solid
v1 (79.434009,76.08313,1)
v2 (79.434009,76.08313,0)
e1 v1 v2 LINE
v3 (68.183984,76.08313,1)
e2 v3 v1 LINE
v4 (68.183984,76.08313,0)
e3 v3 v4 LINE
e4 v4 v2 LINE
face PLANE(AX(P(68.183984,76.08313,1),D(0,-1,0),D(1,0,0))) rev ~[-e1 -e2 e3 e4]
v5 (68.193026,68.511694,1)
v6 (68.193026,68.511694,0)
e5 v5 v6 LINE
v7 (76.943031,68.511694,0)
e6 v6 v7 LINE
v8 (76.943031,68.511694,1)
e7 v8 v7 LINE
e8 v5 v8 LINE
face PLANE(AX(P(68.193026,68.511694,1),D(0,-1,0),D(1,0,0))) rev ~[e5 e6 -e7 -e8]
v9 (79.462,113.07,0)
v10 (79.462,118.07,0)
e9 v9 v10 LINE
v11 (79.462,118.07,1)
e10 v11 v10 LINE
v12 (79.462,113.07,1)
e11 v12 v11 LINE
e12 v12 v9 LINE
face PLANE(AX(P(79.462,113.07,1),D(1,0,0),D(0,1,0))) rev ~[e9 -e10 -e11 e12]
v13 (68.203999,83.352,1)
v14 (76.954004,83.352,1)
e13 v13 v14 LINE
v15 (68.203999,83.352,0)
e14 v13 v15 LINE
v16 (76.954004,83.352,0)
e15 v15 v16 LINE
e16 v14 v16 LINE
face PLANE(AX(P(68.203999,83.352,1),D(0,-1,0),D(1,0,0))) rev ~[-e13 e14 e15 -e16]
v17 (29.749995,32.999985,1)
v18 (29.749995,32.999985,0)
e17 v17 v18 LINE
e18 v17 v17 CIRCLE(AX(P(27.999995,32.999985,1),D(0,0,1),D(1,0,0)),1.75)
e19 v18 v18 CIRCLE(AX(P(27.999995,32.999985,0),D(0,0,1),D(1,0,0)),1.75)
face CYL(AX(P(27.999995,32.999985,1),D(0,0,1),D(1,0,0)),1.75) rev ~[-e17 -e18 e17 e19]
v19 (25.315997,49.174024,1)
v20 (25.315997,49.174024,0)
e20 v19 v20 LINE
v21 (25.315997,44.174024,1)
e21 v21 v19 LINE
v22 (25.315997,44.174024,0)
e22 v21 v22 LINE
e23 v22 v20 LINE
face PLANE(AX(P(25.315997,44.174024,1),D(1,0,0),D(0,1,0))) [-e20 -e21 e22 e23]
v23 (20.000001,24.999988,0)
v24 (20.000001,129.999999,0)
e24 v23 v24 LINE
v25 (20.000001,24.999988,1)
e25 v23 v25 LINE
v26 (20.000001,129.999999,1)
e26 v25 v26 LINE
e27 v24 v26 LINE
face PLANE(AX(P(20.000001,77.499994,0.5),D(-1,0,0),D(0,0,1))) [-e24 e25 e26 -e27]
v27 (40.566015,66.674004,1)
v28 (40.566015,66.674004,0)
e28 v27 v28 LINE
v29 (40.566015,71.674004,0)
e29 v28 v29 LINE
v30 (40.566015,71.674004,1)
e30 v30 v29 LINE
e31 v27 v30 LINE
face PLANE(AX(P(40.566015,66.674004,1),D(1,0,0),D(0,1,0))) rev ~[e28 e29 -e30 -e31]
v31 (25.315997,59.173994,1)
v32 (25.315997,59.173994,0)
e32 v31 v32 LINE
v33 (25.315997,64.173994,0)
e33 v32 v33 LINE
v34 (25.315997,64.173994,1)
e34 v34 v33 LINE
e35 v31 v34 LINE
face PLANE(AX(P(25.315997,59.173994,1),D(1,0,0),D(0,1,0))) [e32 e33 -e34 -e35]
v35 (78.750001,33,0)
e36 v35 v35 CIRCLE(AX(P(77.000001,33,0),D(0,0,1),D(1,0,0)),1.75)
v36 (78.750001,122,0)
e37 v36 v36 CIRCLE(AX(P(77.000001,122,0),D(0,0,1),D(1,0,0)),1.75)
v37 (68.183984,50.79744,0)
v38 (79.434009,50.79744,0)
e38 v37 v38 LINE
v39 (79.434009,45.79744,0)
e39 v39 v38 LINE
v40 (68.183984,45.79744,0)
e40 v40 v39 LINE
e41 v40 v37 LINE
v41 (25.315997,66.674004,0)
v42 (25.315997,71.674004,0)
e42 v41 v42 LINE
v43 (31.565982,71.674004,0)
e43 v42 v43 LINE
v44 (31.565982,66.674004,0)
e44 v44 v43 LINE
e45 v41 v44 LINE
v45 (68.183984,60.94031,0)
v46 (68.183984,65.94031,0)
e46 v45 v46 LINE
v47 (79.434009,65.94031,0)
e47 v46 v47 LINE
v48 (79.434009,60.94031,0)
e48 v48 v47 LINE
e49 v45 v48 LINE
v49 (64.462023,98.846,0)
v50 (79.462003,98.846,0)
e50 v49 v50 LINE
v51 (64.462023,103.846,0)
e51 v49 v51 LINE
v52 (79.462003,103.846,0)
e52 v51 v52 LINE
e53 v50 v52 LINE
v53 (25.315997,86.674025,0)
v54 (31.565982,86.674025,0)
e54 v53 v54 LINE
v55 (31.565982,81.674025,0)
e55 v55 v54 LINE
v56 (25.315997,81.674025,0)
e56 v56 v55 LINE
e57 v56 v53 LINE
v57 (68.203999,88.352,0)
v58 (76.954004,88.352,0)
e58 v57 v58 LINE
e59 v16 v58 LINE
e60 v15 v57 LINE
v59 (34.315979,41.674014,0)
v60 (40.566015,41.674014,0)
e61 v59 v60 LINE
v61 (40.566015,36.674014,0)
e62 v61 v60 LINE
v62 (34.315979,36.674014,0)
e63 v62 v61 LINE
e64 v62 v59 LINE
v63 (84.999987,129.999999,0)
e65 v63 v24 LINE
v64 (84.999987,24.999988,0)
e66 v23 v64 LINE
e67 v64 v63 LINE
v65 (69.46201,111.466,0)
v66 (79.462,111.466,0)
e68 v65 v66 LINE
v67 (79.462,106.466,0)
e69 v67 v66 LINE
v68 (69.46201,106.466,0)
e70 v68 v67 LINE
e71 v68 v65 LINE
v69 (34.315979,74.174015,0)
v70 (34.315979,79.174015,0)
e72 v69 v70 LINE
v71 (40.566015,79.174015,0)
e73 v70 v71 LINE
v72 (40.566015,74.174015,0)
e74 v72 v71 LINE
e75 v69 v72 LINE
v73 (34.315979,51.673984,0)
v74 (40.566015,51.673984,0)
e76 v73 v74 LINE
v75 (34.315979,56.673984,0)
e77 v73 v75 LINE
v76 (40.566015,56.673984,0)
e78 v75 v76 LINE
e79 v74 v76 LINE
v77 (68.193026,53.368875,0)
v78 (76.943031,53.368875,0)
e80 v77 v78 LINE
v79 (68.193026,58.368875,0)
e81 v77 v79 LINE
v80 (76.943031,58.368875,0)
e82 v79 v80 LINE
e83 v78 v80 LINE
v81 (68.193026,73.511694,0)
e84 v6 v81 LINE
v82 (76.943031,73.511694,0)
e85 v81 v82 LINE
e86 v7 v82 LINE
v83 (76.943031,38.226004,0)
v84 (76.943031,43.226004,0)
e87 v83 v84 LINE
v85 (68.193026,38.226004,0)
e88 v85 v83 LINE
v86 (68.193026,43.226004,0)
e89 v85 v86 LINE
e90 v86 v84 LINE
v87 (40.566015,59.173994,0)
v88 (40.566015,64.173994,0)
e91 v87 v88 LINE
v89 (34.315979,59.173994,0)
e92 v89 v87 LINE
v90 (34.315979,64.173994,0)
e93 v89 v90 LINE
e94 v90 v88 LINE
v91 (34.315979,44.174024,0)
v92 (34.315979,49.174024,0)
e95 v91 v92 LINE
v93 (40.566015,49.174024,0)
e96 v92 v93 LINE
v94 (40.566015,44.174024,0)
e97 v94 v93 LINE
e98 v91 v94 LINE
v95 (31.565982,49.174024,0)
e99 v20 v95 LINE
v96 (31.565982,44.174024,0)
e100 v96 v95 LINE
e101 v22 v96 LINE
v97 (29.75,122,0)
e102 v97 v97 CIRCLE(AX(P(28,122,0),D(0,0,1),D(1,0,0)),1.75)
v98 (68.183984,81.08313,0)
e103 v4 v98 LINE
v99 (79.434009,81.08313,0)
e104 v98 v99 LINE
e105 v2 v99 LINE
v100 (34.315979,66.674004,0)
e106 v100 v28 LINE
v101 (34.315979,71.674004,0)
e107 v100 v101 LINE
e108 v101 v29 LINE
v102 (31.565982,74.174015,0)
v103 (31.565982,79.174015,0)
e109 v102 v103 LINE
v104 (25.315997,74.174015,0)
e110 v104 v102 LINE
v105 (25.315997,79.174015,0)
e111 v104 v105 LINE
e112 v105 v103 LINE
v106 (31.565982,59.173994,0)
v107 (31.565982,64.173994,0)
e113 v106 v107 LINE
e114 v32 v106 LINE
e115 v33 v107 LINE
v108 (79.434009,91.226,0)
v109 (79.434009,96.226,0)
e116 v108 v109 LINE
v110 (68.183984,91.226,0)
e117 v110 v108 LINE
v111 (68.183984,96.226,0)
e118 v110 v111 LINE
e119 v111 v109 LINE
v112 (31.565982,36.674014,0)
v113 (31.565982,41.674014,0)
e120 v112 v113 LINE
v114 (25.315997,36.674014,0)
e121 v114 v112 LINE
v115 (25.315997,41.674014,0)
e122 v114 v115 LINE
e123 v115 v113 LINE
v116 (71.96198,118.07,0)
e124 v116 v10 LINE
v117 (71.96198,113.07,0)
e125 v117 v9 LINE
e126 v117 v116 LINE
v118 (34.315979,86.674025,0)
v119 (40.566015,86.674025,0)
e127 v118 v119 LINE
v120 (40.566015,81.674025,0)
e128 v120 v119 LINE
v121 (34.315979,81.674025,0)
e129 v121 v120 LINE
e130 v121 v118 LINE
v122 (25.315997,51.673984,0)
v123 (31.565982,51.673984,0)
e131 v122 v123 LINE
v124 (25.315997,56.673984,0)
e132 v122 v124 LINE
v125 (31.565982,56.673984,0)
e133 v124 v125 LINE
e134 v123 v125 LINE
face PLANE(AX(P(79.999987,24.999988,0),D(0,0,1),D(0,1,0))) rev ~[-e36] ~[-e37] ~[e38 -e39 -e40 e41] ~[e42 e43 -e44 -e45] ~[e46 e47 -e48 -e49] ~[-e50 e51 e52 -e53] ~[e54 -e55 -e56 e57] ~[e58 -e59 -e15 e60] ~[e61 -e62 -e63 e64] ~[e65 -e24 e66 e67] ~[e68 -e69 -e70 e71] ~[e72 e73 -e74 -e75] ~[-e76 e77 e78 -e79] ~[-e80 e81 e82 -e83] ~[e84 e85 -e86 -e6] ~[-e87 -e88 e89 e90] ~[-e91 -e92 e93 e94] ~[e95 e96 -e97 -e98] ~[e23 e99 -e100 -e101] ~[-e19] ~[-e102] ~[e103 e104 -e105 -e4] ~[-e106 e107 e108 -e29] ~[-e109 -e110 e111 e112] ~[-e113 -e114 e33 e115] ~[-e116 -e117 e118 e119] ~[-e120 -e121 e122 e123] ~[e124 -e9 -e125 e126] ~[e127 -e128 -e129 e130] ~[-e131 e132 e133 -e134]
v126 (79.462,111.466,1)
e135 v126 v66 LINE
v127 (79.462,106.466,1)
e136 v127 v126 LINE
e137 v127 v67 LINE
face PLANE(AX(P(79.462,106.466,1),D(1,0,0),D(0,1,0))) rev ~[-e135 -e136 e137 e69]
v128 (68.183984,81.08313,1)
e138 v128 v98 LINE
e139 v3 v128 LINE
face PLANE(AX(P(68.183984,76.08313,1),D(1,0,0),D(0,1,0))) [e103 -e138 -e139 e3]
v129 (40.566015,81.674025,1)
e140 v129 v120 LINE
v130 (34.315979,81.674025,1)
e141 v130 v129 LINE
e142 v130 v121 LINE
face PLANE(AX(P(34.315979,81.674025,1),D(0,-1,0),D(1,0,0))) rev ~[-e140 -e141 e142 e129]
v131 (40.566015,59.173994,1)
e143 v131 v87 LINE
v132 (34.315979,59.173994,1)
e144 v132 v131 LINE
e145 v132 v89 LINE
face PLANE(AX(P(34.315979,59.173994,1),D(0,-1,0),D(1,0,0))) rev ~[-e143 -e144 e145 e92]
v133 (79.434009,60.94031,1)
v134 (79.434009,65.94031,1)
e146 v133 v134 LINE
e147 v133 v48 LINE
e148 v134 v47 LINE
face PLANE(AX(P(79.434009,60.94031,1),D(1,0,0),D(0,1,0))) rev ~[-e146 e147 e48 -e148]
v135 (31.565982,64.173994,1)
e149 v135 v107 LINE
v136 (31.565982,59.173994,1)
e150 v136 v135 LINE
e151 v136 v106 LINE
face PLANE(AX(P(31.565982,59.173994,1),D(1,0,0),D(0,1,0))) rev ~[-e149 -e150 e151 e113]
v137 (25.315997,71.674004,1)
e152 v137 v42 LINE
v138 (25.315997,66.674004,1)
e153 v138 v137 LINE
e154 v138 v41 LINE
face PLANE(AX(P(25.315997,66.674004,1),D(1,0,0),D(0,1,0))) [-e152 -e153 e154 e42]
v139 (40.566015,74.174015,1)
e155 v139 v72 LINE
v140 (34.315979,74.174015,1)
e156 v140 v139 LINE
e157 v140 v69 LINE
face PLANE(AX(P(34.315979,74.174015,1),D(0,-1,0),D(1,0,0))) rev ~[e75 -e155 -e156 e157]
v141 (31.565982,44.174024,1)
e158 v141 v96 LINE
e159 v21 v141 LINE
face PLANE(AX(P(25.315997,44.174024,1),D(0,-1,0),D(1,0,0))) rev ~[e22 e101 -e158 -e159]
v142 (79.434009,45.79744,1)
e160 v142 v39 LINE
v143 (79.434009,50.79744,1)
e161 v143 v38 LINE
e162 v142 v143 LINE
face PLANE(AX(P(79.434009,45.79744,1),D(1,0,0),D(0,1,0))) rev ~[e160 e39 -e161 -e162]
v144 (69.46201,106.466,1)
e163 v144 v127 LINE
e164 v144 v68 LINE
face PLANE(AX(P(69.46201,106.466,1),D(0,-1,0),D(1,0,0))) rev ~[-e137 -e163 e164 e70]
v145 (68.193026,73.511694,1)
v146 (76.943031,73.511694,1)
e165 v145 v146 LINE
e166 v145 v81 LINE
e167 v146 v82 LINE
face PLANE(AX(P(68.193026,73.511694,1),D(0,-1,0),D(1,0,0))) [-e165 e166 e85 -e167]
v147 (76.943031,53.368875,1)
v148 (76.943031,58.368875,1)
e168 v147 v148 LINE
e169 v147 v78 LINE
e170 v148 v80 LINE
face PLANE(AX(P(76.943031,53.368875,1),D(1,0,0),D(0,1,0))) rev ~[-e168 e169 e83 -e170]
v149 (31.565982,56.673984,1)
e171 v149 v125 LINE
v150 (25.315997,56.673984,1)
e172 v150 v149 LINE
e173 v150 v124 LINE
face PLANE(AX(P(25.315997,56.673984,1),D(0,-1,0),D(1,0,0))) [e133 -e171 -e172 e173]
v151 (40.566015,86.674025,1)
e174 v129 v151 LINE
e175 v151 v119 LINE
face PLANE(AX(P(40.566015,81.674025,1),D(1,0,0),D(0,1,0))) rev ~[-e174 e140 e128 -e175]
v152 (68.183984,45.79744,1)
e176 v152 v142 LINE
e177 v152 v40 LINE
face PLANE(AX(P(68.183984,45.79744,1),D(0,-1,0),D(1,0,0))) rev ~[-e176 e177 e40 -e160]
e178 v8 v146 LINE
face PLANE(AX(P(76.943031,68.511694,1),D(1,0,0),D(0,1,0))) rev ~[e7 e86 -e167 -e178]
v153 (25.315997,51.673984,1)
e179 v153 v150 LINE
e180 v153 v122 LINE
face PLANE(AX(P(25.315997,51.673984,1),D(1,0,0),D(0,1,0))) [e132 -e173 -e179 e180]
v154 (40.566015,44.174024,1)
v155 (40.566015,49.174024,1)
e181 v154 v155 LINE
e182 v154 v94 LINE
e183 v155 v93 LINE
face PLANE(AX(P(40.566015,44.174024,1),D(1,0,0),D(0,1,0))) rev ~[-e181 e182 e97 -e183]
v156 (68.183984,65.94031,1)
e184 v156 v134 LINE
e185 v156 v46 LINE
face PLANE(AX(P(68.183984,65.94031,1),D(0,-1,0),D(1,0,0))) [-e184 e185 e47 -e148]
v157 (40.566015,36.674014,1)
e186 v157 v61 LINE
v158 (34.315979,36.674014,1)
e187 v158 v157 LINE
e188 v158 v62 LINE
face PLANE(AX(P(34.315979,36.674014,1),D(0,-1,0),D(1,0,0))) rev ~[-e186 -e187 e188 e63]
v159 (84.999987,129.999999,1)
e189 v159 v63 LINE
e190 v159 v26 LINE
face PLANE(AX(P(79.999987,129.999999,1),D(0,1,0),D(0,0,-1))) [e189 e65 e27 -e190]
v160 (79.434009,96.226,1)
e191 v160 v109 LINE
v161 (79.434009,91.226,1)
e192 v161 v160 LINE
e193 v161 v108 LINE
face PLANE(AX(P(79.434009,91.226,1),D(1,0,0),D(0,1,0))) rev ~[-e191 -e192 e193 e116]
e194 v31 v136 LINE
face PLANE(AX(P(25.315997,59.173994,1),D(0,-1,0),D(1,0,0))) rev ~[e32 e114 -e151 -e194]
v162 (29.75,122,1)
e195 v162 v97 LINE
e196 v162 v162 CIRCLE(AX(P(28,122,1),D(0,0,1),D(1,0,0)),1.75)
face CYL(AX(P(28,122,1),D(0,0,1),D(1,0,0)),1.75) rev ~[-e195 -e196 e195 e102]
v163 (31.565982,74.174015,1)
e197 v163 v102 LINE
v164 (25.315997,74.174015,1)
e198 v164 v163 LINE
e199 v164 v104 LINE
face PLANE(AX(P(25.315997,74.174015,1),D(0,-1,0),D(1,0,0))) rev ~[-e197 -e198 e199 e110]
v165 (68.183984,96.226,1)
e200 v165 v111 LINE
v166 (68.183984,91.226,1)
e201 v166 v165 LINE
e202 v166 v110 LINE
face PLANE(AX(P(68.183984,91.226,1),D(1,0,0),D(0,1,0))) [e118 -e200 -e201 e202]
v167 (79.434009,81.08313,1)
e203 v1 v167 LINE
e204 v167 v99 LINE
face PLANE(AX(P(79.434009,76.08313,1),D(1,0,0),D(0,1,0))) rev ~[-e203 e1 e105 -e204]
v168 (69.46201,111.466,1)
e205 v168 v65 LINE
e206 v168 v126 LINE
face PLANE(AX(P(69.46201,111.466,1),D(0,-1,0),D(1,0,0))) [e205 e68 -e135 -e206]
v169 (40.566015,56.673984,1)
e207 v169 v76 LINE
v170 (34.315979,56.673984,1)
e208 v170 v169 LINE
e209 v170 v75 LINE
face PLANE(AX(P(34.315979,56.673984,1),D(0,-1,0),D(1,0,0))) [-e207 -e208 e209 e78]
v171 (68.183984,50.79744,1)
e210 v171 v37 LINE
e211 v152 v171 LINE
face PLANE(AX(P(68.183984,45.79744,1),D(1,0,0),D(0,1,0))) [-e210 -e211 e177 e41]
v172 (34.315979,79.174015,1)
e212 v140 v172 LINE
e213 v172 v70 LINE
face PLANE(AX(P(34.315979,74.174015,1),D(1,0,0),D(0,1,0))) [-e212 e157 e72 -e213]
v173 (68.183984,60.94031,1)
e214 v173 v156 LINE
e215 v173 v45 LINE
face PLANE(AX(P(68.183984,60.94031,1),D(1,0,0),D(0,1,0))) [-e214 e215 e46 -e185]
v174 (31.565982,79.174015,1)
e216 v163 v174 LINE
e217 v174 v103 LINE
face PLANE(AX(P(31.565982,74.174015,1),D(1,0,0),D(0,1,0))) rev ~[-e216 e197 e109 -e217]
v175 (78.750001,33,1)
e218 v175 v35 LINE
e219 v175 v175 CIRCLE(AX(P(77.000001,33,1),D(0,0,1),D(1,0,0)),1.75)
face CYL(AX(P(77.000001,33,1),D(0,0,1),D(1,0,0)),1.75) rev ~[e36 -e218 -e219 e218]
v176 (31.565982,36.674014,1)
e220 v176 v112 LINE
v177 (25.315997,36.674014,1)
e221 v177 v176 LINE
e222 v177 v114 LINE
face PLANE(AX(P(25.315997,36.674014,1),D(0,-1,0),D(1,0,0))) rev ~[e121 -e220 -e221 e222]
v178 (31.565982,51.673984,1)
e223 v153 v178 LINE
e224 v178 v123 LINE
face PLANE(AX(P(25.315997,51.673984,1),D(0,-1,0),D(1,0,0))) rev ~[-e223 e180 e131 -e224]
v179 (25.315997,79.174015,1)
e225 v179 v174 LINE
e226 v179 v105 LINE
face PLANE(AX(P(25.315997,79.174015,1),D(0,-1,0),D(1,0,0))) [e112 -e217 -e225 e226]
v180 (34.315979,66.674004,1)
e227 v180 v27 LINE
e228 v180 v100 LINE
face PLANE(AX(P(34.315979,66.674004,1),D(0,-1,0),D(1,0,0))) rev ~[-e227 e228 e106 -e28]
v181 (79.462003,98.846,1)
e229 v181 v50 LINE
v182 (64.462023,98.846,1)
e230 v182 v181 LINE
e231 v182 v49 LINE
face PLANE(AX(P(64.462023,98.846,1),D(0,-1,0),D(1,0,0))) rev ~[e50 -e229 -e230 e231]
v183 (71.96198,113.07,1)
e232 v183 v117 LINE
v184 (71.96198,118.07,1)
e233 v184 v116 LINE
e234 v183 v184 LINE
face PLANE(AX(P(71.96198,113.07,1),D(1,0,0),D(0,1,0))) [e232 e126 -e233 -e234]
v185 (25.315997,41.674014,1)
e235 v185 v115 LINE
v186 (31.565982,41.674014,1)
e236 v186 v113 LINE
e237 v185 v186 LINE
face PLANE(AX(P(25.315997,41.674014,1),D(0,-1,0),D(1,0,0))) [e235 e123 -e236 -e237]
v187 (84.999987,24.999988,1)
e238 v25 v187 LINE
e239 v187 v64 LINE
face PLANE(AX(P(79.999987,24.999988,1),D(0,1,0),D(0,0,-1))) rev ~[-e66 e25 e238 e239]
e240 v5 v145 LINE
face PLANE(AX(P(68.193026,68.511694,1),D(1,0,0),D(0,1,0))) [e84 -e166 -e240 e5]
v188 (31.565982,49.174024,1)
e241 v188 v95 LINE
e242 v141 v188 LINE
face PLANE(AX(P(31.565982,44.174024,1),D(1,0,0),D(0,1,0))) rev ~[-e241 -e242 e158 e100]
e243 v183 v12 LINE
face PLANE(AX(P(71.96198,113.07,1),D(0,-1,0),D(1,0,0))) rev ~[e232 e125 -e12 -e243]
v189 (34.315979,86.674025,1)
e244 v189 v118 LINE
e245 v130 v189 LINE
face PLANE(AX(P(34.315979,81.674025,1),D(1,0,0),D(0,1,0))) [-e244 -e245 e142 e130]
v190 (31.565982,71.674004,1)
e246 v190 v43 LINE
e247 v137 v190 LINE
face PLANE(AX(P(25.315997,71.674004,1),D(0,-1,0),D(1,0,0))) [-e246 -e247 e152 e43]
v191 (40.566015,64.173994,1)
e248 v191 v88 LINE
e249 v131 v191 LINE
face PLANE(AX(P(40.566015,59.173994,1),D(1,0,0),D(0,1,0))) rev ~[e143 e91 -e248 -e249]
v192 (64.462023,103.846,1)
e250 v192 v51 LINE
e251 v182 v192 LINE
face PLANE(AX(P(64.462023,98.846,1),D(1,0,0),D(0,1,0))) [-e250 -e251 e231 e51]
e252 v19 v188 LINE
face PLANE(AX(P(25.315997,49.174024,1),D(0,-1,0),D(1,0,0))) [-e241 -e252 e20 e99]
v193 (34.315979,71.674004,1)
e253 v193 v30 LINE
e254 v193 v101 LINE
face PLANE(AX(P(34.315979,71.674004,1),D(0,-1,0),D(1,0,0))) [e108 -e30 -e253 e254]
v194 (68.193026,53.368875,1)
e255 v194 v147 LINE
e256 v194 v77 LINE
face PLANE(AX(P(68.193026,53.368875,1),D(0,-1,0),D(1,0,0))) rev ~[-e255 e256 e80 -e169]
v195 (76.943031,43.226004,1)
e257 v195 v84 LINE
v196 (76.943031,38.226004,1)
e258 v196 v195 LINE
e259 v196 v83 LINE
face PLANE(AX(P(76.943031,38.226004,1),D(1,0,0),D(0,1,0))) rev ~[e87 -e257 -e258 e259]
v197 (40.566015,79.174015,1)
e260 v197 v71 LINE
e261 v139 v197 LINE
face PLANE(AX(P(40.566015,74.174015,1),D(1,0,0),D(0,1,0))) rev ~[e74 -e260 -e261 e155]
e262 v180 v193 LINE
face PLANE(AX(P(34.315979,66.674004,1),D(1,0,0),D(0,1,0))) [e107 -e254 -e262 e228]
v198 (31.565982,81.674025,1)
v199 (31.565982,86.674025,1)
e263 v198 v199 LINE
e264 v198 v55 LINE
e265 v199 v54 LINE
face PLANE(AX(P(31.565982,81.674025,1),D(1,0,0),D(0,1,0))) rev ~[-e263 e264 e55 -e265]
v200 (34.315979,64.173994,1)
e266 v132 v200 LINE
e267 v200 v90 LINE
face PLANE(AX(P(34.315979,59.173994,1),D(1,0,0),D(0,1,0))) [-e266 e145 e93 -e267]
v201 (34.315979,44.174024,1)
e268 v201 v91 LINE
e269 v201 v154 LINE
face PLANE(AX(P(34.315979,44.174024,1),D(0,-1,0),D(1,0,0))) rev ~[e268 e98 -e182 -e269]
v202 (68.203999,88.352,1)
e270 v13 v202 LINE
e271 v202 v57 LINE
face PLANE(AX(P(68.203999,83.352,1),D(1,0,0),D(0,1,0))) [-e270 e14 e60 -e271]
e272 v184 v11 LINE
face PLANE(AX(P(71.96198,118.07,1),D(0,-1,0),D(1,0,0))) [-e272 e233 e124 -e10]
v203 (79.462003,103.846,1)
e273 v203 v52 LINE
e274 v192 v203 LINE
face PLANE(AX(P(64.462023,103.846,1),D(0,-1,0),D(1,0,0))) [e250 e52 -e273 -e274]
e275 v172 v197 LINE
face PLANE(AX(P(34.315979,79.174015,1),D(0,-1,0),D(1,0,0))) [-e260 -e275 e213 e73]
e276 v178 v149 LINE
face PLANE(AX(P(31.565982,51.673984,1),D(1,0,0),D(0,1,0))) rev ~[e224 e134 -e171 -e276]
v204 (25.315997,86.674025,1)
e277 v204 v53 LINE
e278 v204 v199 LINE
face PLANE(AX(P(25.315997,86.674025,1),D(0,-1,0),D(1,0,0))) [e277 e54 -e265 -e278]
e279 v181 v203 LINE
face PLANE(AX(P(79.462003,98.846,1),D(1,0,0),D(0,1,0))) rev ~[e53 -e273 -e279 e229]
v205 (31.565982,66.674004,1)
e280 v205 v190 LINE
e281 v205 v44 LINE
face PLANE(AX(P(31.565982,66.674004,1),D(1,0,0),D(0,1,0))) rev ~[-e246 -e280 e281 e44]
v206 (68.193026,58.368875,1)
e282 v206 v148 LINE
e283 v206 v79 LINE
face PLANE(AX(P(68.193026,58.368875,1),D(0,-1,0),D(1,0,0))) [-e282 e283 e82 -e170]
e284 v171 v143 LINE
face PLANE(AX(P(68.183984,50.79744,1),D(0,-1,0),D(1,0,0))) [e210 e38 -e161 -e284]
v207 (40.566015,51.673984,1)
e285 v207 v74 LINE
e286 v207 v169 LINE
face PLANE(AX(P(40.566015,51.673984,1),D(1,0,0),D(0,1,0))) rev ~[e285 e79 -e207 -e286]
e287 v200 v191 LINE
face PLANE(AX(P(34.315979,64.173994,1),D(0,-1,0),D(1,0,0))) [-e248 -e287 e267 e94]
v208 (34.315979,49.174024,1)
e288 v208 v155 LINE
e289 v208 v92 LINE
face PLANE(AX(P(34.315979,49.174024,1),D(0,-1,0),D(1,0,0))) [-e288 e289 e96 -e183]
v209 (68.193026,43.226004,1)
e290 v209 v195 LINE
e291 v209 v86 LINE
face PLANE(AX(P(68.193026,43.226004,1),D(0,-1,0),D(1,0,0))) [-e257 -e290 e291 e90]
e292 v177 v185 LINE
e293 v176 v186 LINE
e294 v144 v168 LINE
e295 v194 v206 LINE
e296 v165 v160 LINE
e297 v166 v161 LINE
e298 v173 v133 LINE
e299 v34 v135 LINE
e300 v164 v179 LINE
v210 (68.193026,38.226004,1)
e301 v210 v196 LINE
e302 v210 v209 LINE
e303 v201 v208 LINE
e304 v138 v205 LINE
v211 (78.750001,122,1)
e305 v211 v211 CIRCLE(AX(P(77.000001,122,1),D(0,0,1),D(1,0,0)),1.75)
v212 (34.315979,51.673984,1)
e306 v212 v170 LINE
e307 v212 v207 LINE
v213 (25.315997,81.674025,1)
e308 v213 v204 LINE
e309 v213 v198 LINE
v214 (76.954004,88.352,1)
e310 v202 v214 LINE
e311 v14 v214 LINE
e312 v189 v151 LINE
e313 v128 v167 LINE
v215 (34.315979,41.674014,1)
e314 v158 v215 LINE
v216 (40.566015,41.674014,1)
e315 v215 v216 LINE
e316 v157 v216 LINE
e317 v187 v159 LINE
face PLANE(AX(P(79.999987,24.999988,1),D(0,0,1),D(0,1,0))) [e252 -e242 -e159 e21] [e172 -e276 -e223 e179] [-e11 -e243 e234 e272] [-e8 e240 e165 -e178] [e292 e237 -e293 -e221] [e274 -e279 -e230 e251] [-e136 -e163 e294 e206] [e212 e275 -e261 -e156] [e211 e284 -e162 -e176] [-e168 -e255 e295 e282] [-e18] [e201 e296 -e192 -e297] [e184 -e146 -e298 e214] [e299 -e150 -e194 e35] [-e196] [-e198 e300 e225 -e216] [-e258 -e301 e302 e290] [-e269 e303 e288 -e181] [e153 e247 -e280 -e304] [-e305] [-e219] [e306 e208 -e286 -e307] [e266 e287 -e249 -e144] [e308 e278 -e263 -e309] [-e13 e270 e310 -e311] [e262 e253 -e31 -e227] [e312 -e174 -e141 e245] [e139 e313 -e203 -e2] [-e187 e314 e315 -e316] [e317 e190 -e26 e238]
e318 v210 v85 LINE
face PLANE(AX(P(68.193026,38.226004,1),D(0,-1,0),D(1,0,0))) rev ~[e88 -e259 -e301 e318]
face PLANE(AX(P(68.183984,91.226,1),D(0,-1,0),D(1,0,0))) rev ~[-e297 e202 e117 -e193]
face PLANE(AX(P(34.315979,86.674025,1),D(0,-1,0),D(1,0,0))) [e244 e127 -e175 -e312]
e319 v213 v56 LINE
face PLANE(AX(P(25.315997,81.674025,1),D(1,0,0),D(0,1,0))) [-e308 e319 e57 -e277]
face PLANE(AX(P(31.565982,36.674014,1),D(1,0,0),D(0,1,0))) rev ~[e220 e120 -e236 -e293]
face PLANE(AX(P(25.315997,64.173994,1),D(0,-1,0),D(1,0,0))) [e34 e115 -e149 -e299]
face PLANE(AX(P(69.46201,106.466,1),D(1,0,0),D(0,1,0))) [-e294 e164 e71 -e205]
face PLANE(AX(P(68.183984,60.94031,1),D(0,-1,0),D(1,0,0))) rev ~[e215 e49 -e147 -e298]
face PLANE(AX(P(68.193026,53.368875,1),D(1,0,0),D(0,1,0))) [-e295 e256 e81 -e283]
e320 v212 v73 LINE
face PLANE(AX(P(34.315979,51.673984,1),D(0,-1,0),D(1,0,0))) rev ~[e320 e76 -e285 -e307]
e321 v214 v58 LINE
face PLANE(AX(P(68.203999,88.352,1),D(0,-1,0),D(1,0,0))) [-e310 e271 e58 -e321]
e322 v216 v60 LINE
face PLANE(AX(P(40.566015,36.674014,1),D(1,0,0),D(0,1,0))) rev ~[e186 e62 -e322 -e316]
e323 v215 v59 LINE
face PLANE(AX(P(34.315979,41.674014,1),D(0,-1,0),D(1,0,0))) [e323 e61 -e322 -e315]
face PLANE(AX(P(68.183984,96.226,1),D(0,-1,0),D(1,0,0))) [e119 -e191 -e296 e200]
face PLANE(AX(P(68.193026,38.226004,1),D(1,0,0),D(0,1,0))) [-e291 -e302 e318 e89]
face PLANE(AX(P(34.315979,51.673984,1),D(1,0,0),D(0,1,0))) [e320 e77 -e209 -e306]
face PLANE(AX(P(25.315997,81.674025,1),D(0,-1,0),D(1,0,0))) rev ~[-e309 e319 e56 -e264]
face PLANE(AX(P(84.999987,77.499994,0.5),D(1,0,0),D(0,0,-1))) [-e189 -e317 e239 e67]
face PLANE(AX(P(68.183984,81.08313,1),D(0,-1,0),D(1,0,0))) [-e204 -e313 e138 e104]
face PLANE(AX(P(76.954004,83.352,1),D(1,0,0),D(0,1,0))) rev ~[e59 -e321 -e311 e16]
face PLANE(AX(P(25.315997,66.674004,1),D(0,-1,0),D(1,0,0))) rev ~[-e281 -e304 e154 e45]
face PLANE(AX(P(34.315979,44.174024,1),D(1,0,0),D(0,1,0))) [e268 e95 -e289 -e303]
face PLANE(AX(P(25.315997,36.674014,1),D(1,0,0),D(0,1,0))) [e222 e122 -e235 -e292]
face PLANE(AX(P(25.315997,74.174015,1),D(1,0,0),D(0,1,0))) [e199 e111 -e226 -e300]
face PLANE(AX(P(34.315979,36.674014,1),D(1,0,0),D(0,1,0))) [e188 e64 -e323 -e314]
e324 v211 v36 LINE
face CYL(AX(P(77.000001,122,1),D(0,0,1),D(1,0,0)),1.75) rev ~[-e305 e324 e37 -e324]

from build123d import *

# Parameters (mm, degrees)
SKETCH_1_W          = 54.99998652
SKETCH_1_H          = 95.00001066
EXTRUDE_1_DEPTH     = 1
SKETCH_3_W          = 7.5000204
SKETCH_3_H          = 5
SKETCH_3_W_2        = 9.99999
SKETCH_3_W_3        = 14.99998
SKETCH_3_W_4        = 11.2500256
SKETCH_3_W_5        = 8.7500052
SKETCH_3_W_6        = 6.2500356
SKETCH_3_W_7        = 6.2499848
CUT_EXTRUDE_1_DEPTH = 1
SKETCH_7_R          = 1.75
CUT_EXTRUDE_4_DEPTH = 1
SKETCH_8_W          = 54.99998652
SKETCH_8_H          = 1
EXTRUDE_2_DEPTH     = 5
SKETCH_9_W          = 54.99998652
SKETCH_9_H          = 1
EXTRUDE_3_DEPTH     = 5
SKETCH_10_W         = 1
SKETCH_10_H         = 105.00001066
EXTRUDE_4_DEPTH     = 5
SKETCH_11_W         = 1
SKETCH_11_H         = 105.00001066
EXTRUDE_5_DEPTH     = 5


with BuildPart() as part:
    # 草图1 → 凸台-拉伸1 (new body)
    with BuildSketch(Plane.XY):
        with Locations((52.49999406, 77.49999359)):
            Rectangle(SKETCH_1_W, SKETCH_1_H)
    extrude(amount=EXTRUDE_1_DEPTH)

    # 草图3 → 切除-拉伸1 (cut)
    with BuildSketch(Plane.XY.offset(1)):
        with Locations((75.7119898, 115.57)):
            Rectangle(SKETCH_3_W, SKETCH_3_H)
        with Locations((74.462005, 108.966)):
            Rectangle(SKETCH_3_W_2, SKETCH_3_H)
        with Locations((71.96201254, 101.346)):
            Rectangle(SKETCH_3_W_3, SKETCH_3_H)
        with Locations((73.8089964, 93.726)):
            Rectangle(SKETCH_3_W_4, SKETCH_3_H)
        with Locations((72.5790014, 85.852)):
            Rectangle(SKETCH_3_W_5, SKETCH_3_H)
        with Locations((73.8089964, 78.5831296)):
            Rectangle(SKETCH_3_W_4, SKETCH_3_H)
        with Locations((72.5680286, 71.0116944)):
            Rectangle(SKETCH_3_W_5, SKETCH_3_H)
        with Locations((73.8089964, 63.44031)):
            Rectangle(SKETCH_3_W_4, SKETCH_3_H)
        with Locations((72.5680286, 55.8688748)):
            Rectangle(SKETCH_3_W_5, SKETCH_3_H)
        with Locations((73.8089964, 48.2974396)):
            Rectangle(SKETCH_3_W_4, SKETCH_3_H)
        with Locations((72.5680286, 40.7260044)):
            Rectangle(SKETCH_3_W_5, SKETCH_3_H)
        with Locations((37.440997, 84.1740252)):
            Rectangle(SKETCH_3_W_6, SKETCH_3_H)
        with Locations((28.4409896, 84.1740252)):
            Rectangle(SKETCH_3_W_7, SKETCH_3_H)
        with Locations((37.440997, 76.6740148)):
            Rectangle(SKETCH_3_W_6, SKETCH_3_H)
        with Locations((28.4409896, 76.6740148)):
            Rectangle(SKETCH_3_W_7, SKETCH_3_H)
        with Locations((37.440997, 69.1740044)):
            Rectangle(SKETCH_3_W_6, SKETCH_3_H)
        with Locations((28.4409896, 69.1740044)):
            Rectangle(SKETCH_3_W_7, SKETCH_3_H)
        with Locations((37.440997, 61.673994)):
            Rectangle(SKETCH_3_W_6, SKETCH_3_H)
        with Locations((28.4409896, 61.673994)):
            Rectangle(SKETCH_3_W_7, SKETCH_3_H)
        with Locations((37.440997, 54.1739836)):
            Rectangle(SKETCH_3_W_6, SKETCH_3_H)
        with Locations((28.4409896, 54.1739836)):
            Rectangle(SKETCH_3_W_7, SKETCH_3_H)
        with Locations((37.440997, 46.674024)):
            Rectangle(SKETCH_3_W_6, SKETCH_3_H)
        with Locations((28.4409896, 46.674024)):
            Rectangle(SKETCH_3_W_7, SKETCH_3_H)
        with Locations((37.440997, 39.1740136)):
            Rectangle(SKETCH_3_W_6, SKETCH_3_H)
        with Locations((28.4409896, 39.1740136)):
            Rectangle(SKETCH_3_W_7, SKETCH_3_H)
    extrude(amount=-CUT_EXTRUDE_1_DEPTH, mode=Mode.SUBTRACT)

    # 草图7 → 切除-拉伸4 (cut)
    with BuildSketch(Plane.XY.offset(1)):
        with Locations((77.00000094, 121.99999984)):
            Circle(SKETCH_7_R)
        with Locations((27.99999988, 121.99999984)):
            Circle(SKETCH_7_R)
        with Locations((77.00000094, 33.00000004)):
            Circle(SKETCH_7_R)
        with Locations((27.9999948, 32.9999848)):
            Circle(SKETCH_7_R)
    extrude(amount=-CUT_EXTRUDE_4_DEPTH, mode=Mode.SUBTRACT)

    # 草图8 → 凸台-拉伸2 (add)
    with BuildSketch(Plane(origin=(0, 124.99999892, 0), x_dir=(1, 0, 0), z_dir=(0, 1, 0))):
        with Locations((52.49999406, -0.5)):
            Rectangle(SKETCH_8_W, SKETCH_8_H)
    extrude(amount=EXTRUDE_2_DEPTH)

    # 草图9 → 凸台-拉伸3 (add)
    with BuildSketch(Plane.XZ.offset(-29.99998826)):
        with Locations((52.49999406, 0.5)):
            Rectangle(SKETCH_9_W, SKETCH_9_H)
    extrude(amount=EXTRUDE_3_DEPTH)

    # 草图10 → 凸台-拉伸4 (add)
    with BuildSketch(Plane.ZY.offset(-25.0000008)):
        with Locations((0.5, 77.49999359)):
            Rectangle(SKETCH_10_W, SKETCH_10_H)
    extrude(amount=EXTRUDE_4_DEPTH)

    # 草图11 → 凸台-拉伸5 (add)
    with BuildSketch(Plane(origin=(79.99998732, 0, 0), x_dir=(0, 0, -1), z_dir=(1, 0, 0))):
        with Locations((-0.5, 77.49999359)):
            Rectangle(SKETCH_11_W, SKETCH_11_H)
    extrude(amount=EXTRUDE_5_DEPTH)


solid = part.part
